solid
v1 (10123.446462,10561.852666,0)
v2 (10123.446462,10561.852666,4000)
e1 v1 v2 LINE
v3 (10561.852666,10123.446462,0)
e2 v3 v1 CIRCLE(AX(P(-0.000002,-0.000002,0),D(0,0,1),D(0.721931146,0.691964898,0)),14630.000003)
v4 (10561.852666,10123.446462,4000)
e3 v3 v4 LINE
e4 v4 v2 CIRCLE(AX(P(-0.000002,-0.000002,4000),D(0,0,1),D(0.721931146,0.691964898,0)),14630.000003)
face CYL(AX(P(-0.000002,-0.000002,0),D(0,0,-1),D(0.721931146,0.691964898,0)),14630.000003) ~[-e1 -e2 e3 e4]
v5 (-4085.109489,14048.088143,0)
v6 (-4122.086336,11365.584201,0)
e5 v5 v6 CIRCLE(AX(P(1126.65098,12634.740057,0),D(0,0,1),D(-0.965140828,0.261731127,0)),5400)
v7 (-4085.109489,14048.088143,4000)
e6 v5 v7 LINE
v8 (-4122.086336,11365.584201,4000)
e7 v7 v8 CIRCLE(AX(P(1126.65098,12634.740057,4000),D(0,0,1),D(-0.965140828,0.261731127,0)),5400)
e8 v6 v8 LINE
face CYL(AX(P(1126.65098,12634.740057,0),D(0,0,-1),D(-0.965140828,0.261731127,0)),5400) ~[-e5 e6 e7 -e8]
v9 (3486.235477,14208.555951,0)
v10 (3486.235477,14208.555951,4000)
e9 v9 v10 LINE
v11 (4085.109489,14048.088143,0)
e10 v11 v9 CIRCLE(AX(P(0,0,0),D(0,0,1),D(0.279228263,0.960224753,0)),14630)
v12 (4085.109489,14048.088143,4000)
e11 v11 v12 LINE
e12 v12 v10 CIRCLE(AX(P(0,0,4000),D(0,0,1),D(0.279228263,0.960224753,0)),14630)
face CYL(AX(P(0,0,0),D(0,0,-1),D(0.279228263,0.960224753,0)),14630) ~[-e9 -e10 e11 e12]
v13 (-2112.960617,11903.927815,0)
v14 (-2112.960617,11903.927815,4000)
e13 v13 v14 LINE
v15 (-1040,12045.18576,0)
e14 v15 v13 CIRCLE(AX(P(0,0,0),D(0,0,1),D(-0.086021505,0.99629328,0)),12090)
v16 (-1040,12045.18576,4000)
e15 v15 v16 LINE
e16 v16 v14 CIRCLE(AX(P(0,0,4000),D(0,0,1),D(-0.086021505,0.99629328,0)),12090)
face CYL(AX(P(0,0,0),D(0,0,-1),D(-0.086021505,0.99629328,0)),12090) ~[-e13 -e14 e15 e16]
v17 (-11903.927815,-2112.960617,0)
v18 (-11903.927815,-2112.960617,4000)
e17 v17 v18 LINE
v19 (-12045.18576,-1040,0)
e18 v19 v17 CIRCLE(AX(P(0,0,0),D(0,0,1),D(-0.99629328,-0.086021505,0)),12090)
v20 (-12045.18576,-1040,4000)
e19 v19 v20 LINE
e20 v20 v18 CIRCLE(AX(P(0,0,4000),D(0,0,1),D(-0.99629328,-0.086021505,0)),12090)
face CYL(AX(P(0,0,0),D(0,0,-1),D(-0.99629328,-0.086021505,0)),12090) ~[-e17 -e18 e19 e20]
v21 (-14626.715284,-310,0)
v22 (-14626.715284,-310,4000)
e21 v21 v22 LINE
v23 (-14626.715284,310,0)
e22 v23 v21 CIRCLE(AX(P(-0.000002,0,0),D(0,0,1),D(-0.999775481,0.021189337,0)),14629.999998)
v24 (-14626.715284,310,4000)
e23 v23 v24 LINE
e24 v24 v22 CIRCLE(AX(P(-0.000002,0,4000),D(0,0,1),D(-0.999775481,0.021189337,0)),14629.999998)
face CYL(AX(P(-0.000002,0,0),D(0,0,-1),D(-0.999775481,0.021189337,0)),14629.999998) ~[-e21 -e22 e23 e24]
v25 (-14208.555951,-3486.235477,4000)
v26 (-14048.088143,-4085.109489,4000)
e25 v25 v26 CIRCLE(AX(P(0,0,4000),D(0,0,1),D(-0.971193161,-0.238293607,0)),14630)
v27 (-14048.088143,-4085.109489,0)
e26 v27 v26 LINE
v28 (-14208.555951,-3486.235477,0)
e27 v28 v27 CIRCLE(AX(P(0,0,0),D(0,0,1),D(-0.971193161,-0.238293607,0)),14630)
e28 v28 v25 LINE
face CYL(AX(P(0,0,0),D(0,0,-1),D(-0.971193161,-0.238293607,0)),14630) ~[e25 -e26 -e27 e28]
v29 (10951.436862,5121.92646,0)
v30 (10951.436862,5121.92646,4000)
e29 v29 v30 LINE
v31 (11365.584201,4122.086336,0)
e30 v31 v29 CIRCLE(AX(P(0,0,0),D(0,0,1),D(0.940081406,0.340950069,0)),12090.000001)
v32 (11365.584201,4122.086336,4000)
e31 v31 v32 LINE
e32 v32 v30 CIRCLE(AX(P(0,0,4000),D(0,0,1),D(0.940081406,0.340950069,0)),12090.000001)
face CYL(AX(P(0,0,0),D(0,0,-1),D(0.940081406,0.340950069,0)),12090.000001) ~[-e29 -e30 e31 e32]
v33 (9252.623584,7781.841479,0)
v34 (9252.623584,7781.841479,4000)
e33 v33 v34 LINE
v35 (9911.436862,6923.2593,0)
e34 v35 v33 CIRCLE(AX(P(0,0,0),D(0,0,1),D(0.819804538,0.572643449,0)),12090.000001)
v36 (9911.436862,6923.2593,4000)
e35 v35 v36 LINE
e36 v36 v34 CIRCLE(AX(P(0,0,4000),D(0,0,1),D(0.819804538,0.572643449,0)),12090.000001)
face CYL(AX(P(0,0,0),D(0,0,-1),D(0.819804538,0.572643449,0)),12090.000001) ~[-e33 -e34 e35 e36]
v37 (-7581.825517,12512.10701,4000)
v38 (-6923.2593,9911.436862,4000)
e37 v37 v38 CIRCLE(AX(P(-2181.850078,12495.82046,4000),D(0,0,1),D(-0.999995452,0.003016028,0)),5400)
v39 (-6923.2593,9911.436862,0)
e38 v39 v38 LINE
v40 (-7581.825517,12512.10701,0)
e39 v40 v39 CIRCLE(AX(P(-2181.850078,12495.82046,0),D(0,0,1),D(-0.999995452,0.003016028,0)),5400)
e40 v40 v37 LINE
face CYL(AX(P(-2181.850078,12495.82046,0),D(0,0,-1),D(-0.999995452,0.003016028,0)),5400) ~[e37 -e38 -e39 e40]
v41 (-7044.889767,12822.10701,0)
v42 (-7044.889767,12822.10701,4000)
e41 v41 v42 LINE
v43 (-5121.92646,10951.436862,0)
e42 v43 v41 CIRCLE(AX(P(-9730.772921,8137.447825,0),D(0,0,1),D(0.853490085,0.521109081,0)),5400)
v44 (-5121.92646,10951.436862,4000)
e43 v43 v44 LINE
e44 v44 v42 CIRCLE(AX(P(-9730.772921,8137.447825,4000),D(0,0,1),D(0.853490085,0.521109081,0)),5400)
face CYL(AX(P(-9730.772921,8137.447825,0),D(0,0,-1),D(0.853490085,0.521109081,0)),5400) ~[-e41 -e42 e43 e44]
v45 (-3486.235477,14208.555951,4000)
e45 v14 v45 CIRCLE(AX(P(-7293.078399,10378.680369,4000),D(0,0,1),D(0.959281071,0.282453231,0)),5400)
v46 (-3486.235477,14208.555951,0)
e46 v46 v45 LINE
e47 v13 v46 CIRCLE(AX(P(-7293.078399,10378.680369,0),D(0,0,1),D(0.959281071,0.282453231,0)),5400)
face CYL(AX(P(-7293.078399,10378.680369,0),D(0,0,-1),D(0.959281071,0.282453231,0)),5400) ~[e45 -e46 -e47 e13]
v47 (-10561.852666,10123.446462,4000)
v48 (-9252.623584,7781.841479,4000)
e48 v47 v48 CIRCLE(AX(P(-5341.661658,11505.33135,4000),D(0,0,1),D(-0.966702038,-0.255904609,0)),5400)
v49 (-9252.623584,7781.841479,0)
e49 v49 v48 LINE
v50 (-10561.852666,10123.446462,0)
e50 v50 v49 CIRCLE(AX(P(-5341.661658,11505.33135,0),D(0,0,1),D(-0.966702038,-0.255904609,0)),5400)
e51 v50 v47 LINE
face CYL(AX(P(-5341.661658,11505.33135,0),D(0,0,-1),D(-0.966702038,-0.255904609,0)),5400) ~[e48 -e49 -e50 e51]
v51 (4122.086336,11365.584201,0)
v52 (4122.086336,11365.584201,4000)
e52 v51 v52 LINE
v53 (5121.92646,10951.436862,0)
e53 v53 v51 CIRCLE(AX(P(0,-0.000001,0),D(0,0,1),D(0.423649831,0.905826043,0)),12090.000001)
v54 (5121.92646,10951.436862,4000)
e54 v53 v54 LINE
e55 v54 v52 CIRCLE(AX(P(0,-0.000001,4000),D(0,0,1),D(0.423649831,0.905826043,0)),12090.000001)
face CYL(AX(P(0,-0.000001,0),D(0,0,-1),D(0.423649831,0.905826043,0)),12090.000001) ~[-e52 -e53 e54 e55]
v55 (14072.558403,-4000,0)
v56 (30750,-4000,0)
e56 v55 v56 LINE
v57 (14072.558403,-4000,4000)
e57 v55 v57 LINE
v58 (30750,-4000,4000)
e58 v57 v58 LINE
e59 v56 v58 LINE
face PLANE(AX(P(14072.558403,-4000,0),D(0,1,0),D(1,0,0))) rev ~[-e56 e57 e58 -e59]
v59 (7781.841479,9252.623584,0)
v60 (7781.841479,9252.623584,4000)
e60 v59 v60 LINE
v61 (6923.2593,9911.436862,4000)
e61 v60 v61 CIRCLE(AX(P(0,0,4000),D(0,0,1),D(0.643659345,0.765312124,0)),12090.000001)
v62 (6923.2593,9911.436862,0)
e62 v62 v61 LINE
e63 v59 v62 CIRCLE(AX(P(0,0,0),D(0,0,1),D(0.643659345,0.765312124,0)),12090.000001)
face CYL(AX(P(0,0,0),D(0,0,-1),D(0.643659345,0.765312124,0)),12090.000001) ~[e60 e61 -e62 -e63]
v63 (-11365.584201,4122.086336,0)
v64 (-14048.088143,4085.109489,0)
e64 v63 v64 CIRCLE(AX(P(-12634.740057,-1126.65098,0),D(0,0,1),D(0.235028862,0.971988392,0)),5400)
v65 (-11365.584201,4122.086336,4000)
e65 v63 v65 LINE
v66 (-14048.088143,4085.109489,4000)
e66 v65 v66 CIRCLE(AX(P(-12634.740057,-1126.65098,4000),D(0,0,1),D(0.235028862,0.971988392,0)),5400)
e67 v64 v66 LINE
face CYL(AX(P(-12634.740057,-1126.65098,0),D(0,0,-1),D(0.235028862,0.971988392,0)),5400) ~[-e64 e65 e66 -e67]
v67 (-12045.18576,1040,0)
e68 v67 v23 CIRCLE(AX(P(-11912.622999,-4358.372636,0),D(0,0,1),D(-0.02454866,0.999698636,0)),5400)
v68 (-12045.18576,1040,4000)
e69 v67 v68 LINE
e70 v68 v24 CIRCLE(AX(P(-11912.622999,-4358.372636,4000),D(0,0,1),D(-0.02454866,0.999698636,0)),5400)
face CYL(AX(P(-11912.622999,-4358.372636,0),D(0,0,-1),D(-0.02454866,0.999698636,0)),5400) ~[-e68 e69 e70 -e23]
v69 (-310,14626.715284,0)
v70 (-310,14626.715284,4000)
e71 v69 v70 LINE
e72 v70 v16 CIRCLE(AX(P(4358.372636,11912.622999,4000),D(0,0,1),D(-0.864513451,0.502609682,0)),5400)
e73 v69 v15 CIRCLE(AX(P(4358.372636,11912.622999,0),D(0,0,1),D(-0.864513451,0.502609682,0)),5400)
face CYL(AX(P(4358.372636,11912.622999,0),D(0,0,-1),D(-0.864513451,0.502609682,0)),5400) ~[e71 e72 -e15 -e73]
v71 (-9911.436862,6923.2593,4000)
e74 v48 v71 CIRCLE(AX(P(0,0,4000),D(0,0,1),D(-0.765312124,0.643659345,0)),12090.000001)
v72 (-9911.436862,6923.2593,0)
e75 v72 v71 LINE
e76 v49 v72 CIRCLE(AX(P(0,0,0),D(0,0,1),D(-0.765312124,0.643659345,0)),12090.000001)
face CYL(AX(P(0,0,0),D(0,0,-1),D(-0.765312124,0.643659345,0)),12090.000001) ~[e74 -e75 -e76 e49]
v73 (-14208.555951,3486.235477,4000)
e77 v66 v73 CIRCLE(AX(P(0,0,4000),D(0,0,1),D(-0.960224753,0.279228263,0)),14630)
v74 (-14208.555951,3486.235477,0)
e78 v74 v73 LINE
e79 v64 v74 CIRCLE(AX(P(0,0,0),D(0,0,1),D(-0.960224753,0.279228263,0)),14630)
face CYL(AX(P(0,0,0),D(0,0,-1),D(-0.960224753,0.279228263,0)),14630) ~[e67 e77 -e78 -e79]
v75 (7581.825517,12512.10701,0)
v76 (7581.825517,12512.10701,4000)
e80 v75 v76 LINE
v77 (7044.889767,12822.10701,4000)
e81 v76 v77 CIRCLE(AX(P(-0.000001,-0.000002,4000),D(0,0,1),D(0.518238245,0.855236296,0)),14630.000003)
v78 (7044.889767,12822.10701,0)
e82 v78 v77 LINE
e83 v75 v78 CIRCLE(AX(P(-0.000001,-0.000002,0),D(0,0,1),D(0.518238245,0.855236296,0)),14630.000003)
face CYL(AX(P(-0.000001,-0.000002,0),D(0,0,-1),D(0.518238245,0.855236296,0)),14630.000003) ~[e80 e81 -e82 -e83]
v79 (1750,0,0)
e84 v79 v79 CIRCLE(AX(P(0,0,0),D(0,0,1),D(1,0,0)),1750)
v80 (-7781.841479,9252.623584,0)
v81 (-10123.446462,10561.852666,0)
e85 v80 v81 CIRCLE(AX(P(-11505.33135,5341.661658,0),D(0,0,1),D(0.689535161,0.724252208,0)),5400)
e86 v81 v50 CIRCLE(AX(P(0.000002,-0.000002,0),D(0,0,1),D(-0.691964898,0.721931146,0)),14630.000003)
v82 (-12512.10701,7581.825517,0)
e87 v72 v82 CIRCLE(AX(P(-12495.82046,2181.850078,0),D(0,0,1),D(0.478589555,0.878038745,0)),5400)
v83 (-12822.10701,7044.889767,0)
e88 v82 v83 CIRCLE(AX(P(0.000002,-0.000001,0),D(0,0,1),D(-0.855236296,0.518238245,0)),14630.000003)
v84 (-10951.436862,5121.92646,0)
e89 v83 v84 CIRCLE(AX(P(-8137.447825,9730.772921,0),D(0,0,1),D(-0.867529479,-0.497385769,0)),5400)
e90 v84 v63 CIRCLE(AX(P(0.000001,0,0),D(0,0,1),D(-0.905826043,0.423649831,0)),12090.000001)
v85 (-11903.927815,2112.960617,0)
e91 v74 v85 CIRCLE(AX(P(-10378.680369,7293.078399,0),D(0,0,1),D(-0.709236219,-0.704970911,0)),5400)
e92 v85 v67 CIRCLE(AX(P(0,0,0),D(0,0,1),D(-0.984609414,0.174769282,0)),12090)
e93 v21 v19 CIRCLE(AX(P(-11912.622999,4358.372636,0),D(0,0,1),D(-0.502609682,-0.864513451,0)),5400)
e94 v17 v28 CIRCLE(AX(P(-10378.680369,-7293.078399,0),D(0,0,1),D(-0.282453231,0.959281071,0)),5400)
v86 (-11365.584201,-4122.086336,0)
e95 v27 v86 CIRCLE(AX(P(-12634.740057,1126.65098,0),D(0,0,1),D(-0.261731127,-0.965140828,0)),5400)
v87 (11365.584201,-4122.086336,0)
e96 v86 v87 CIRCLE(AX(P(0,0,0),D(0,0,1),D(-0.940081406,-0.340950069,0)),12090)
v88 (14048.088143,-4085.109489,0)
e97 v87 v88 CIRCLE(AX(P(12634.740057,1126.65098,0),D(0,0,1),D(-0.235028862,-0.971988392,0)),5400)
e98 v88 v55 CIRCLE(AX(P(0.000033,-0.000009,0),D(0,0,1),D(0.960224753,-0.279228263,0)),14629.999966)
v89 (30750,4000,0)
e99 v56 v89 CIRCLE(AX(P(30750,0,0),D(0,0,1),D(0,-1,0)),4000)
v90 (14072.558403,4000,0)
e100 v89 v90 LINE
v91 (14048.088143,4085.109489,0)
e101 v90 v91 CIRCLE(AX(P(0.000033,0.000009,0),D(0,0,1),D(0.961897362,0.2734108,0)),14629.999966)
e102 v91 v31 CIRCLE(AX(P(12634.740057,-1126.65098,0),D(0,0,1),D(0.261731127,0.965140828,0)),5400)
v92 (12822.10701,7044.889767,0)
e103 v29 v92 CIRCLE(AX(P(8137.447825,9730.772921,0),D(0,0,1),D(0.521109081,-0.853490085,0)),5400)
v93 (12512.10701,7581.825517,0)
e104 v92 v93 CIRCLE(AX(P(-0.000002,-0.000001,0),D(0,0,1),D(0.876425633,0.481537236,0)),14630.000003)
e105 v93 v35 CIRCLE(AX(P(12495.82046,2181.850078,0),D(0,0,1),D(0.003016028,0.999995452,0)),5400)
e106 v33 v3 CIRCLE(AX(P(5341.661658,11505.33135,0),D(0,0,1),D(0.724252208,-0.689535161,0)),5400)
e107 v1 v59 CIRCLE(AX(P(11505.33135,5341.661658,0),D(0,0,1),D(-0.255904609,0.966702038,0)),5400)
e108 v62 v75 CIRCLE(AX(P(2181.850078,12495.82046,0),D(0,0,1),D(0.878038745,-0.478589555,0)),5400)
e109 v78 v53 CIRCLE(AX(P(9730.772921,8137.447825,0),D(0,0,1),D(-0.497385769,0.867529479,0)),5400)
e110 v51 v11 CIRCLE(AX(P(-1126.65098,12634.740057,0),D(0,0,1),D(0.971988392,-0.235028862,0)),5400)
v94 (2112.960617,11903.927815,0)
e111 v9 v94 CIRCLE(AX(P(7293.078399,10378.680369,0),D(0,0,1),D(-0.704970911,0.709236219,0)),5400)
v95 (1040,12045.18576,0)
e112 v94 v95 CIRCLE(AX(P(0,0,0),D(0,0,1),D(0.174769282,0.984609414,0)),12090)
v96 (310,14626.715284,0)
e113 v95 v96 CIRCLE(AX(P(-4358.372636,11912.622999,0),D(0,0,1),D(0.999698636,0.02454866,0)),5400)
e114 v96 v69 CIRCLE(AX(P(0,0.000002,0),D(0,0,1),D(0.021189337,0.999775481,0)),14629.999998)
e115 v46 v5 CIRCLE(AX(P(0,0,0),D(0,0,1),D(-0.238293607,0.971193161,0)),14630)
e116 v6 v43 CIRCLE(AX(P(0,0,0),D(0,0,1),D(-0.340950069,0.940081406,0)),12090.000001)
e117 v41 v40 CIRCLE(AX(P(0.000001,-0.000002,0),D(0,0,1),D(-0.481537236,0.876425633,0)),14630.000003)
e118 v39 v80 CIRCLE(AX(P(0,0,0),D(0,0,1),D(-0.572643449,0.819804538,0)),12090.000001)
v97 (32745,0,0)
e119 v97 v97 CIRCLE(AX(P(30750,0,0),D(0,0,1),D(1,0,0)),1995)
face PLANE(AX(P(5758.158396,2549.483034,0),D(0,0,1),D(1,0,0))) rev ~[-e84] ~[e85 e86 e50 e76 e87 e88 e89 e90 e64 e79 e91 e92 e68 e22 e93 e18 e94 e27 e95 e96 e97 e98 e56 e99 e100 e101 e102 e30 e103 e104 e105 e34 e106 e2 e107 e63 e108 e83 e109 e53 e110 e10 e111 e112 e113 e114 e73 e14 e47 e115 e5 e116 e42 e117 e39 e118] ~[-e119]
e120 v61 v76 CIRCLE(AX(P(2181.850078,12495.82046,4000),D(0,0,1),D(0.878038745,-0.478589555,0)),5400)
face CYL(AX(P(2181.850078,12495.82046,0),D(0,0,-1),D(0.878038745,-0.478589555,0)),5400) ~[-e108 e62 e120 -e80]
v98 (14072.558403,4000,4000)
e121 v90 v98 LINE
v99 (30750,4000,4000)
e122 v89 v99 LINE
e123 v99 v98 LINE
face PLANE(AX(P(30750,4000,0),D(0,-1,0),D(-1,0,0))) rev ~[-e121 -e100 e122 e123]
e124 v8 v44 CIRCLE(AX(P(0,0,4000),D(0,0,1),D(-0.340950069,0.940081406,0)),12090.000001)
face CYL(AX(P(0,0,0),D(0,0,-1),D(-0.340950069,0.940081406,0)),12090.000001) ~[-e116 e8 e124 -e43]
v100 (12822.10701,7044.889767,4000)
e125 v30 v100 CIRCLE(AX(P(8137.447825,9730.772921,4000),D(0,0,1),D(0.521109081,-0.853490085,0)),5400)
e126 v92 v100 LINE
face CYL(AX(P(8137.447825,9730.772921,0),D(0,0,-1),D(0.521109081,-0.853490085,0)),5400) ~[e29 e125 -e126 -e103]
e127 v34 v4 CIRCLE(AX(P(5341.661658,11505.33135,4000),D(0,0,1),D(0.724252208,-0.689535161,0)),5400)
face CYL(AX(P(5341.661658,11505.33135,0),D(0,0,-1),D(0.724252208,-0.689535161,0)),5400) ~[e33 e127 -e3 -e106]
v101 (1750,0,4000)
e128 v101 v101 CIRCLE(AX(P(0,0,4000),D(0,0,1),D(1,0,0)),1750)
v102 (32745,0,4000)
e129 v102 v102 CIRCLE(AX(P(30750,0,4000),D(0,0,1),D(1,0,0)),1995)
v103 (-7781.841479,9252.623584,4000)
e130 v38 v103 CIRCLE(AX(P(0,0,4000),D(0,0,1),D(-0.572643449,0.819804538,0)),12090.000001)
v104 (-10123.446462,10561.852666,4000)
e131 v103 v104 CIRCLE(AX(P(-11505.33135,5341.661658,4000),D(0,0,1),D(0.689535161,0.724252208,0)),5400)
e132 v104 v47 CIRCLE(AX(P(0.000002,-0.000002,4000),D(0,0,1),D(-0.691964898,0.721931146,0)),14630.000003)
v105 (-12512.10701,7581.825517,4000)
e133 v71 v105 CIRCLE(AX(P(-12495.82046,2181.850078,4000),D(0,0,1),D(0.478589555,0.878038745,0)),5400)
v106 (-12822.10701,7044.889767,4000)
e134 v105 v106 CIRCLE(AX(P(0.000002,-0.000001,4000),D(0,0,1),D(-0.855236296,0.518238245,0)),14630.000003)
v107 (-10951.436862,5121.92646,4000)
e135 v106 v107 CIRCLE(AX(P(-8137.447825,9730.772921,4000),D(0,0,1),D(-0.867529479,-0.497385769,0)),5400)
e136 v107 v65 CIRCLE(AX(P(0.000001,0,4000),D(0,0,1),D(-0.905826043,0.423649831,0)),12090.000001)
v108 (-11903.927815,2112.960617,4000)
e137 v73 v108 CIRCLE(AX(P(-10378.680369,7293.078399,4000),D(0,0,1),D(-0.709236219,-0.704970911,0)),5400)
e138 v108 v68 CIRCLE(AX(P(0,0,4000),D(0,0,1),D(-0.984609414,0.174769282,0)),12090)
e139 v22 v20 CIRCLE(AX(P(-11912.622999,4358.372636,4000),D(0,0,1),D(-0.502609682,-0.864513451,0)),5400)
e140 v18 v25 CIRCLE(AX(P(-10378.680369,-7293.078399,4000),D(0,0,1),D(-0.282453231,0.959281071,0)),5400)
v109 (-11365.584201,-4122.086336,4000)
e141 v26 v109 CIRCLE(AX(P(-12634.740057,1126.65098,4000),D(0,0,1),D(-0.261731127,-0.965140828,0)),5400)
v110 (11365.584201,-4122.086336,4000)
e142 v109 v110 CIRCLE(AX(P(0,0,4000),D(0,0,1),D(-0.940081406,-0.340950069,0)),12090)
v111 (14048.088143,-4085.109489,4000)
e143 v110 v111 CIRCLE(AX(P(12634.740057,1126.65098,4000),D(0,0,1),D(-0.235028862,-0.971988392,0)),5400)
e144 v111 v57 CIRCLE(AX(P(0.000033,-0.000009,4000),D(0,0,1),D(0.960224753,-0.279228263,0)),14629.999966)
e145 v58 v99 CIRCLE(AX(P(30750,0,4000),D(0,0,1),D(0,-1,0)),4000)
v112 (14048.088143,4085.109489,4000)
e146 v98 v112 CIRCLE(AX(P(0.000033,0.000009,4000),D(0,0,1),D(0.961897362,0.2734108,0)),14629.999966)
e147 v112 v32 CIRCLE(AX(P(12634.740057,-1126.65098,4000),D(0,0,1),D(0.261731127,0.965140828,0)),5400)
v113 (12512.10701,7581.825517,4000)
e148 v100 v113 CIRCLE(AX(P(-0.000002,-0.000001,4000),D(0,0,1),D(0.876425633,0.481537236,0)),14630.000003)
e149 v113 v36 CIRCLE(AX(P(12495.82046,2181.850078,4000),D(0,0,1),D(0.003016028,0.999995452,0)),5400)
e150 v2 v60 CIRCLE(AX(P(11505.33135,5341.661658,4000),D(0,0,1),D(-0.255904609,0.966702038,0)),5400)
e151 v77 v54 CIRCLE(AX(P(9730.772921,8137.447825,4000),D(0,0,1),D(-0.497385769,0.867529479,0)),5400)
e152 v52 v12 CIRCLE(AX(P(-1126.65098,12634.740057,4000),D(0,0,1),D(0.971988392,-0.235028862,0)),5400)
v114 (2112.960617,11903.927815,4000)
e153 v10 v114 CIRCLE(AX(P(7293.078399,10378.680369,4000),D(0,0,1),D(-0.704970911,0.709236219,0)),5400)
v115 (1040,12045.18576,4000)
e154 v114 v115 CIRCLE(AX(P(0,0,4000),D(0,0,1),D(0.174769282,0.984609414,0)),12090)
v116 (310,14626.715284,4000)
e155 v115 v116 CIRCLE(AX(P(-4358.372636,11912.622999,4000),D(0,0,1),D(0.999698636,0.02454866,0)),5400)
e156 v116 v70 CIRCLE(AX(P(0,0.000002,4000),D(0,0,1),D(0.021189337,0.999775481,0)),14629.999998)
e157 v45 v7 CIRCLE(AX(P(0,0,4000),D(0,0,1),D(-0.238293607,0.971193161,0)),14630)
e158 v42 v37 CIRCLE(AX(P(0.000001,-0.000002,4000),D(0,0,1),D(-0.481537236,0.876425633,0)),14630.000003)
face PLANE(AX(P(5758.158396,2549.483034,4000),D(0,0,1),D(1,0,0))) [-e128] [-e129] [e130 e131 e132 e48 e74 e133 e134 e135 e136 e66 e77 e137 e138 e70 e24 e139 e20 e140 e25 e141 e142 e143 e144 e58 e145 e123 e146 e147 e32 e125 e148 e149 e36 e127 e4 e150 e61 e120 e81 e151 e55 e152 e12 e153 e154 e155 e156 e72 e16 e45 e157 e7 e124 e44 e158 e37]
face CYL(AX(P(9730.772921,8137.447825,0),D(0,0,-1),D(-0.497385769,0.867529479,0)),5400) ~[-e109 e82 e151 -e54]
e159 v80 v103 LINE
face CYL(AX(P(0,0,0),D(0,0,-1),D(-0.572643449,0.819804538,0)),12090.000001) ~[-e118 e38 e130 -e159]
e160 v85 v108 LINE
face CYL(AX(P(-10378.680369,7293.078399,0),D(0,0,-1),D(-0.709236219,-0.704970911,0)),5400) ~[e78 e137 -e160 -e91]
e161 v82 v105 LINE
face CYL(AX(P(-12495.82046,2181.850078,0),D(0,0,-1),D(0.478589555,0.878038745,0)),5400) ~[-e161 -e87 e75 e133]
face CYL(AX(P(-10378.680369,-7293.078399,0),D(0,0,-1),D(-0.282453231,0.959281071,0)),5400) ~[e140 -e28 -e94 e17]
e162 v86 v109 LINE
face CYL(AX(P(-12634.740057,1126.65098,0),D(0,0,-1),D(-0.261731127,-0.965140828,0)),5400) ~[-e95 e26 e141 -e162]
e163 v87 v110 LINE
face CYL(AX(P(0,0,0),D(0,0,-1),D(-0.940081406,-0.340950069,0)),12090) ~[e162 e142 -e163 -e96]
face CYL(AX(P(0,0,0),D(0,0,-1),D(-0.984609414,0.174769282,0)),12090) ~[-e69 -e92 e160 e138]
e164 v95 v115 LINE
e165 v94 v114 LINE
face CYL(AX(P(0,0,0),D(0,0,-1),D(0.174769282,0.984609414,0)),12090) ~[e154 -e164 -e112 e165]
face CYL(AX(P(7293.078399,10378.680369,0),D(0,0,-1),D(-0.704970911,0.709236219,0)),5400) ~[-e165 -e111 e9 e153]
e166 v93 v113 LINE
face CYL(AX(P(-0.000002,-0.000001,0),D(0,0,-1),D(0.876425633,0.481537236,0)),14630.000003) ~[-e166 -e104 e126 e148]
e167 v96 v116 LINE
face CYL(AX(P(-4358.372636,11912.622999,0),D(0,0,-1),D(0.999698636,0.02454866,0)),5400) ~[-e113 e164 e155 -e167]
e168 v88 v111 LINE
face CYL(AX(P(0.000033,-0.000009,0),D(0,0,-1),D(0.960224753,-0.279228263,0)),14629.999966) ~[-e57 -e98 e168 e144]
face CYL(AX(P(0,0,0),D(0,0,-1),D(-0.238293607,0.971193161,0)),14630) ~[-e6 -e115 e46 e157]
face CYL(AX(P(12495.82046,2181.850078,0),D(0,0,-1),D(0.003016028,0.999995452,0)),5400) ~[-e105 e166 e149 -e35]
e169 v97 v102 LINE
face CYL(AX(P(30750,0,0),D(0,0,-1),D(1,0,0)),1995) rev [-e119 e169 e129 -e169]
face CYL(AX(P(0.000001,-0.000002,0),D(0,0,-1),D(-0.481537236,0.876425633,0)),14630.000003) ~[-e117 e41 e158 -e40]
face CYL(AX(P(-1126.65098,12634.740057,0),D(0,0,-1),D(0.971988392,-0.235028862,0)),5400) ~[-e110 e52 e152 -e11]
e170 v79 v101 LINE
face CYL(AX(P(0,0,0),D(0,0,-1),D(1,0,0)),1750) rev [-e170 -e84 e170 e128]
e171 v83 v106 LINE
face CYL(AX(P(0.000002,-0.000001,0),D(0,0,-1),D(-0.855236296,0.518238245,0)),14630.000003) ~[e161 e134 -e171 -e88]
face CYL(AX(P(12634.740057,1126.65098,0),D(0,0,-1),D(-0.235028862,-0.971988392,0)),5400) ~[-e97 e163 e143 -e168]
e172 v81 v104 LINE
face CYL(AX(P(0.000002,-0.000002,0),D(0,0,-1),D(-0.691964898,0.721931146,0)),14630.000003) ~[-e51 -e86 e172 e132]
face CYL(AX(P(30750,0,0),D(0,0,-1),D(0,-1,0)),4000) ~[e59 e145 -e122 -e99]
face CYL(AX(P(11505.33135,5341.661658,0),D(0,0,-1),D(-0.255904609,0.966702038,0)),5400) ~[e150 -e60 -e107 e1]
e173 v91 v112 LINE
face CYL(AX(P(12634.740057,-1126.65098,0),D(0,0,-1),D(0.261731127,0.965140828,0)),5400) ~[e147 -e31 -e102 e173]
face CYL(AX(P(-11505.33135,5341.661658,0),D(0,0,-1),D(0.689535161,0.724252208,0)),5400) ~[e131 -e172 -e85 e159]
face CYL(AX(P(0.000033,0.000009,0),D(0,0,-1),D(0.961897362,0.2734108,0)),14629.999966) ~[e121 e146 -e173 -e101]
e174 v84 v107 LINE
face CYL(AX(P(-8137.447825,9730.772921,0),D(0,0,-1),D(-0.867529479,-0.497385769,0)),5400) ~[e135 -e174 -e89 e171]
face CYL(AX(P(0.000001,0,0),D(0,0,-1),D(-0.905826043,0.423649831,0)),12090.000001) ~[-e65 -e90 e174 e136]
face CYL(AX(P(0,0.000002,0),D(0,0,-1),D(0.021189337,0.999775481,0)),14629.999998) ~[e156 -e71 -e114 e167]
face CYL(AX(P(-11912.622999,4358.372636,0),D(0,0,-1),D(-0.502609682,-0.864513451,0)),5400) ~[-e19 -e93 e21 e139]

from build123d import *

# Parameters (mm, degrees)
SKETCH2_R           = 1750
SKETCH2_R_2         = 1995
BOSS_EXTRUDE1_DEPTH = 4000


with BuildPart() as part:
    # Sketch2 → Boss-Extrude1 (new body)
    with BuildSketch(Plane.XY):
        with BuildLine():
            Line((14072.558402792, -4000), (30750, -4000))
            ThreePointArc((30750, -4000), (34750, 0), (30750, 4000))
            Line((30750, 4000), (14072.558402792, 4000))
            ThreePointArc((14072.558402792, 4000), (14060.387670314, 4042.573259754), (14048.088142637, 4085.109488948))
            ThreePointArc((14048.088142637, 4085.109488948), (12709.169027193, 4272.836062793), (11365.584201411, 4122.086335903))
            ThreePointArc((11365.584201411, 4122.086335903), (11169.703548061, 4626.642697294), (10951.436861718, 5121.926460211))
            ThreePointArc((10951.436861718, 5121.926460211), (12008.090957274, 5965.388247475), (12822.10700989, 7044.889766841))
            ThreePointArc((12822.10700989, 7044.889766841), (12669.951657366, 7315), (12512.10700989, 7581.825517187))
            ThreePointArc((12512.10700989, 7581.825517187), (11170.223244387, 7416.617696216), (9911.436861718, 6923.259300083))
            ThreePointArc((9911.436861718, 6923.259300083), (9591.641884121, 7359.925676715), (9252.62358419, 7781.841479322))
            ThreePointArc((9252.62358419, 7781.841479322), (10054.969090182, 8870.045207143), (10561.852665989, 10123.446461653))
            ThreePointArc((10561.852665989, 10123.446461653), (10344.972208759, 10344.972208759), (10123.446461653, 10561.852665989))
            ThreePointArc((10123.446461653, 10561.852665989), (8870.045207143, 10054.969090182), (7781.841479322, 9252.62358419))
            ThreePointArc((7781.841479322, 9252.62358419), (7359.925676715, 9591.641884121), (6923.259300083, 9911.436861718))
            ThreePointArc((6923.259300083, 9911.436861718), (7416.617696216, 11170.223244387), (7581.825517187, 12512.10700989))
            ThreePointArc((7581.825517187, 12512.10700989), (7315, 12669.951657366), (7044.889766841, 12822.10700989))
            ThreePointArc((7044.889766841, 12822.10700989), (5965.388247475, 12008.090957274), (5121.926460211, 10951.436861718))
            ThreePointArc((5121.926460211, 10951.436861718), (4626.642697294, 11169.703548061), (4122.086335903, 11365.584201411))
            ThreePointArc((4122.086335903, 11365.584201411), (4272.836062793, 12709.169027193), (4085.109488948, 14048.088142637))
            ThreePointArc((4085.109488948, 14048.088142637), (3786.52262985, 14131.494838609), (3486.235476649, 14208.555950601))
            ThreePointArc((3486.235476649, 14208.555950601), (2654.199937011, 13142.881269936), (2112.960617221, 11903.927815224))
            ThreePointArc((2112.960617221, 11903.927815224), (1578.06166394, 11986.568374009), (1040, 12045.185760294))
            ThreePointArc((1040, 12045.185760294), (837.867712887, 13382.005943691), (310, 14626.715284027))
            ThreePointArc((310, 14626.715284027), (0, 14630), (-310, 14626.715284027))
            ThreePointArc((-310, 14626.715284027), (-837.867712887, 13382.005943691), (-1040, 12045.185760294))
            ThreePointArc((-1040, 12045.185760294), (-1578.06166394, 11986.568374009), (-2112.960617221, 11903.927815224))
            ThreePointArc((-2112.960617221, 11903.927815224), (-2654.199937011, 13142.881269936), (-3486.235476649, 14208.555950601))
            ThreePointArc((-3486.235476649, 14208.555950601), (-3786.52262985, 14131.494838609), (-4085.109488948, 14048.088142637))
            ThreePointArc((-4085.109488948, 14048.088142637), (-4272.836062793, 12709.169027193), (-4122.086335903, 11365.584201411))
            ThreePointArc((-4122.086335903, 11365.584201411), (-4626.642697294, 11169.703548061), (-5121.926460211, 10951.436861718))
            ThreePointArc((-5121.926460211, 10951.436861718), (-5965.388247475, 12008.090957274), (-7044.889766841, 12822.10700989))
            ThreePointArc((-7044.889766841, 12822.10700989), (-7315, 12669.951657366), (-7581.825517187, 12512.10700989))
            ThreePointArc((-7581.825517187, 12512.10700989), (-7416.617696216, 11170.223244387), (-6923.259300083, 9911.436861718))
            ThreePointArc((-6923.259300083, 9911.436861718), (-7359.925676715, 9591.641884121), (-7781.841479322, 9252.62358419))
            ThreePointArc((-7781.841479322, 9252.62358419), (-8870.045207143, 10054.969090182), (-10123.446461653, 10561.852665989))
            ThreePointArc((-10123.446461653, 10561.852665989), (-10344.972208759, 10344.972208759), (-10561.852665989, 10123.446461653))
            ThreePointArc((-10561.852665989, 10123.446461653), (-10054.969090182, 8870.045207143), (-9252.62358419, 7781.841479322))
            ThreePointArc((-9252.62358419, 7781.841479322), (-9591.641884121, 7359.925676715), (-9911.436861718, 6923.259300083))
            ThreePointArc((-9911.436861718, 6923.259300083), (-11170.223244387, 7416.617696216), (-12512.10700989, 7581.825517187))
            ThreePointArc((-12512.10700989, 7581.825517187), (-12669.951657366, 7315), (-12822.10700989, 7044.889766841))
            ThreePointArc((-12822.10700989, 7044.889766841), (-12008.090957274, 5965.388247475), (-10951.436861718, 5121.926460211))
            ThreePointArc((-10951.436861718, 5121.926460211), (-11169.703548061, 4626.642697294), (-11365.584201411, 4122.086335903))
            ThreePointArc((-11365.584201411, 4122.086335903), (-12709.169027193, 4272.836062793), (-14048.088142637, 4085.109488948))
            ThreePointArc((-14048.088142637, 4085.109488948), (-14131.494838609, 3786.52262985), (-14208.555950601, 3486.235476649))
            ThreePointArc((-14208.555950601, 3486.235476649), (-13142.881269936, 2654.199937011), (-11903.927815224, 2112.960617221))
            ThreePointArc((-11903.927815224, 2112.960617221), (-11986.568374009, 1578.06166394), (-12045.185760294, 1040))
            ThreePointArc((-12045.185760294, 1040), (-13382.005943691, 837.867712887), (-14626.715284027, 310))
            ThreePointArc((-14626.715284027, 310), (-14630, 0), (-14626.715284027, -310))
            ThreePointArc((-14626.715284027, -310), (-13382.005943691, -837.867712887), (-12045.185760294, -1040))
            ThreePointArc((-12045.185760294, -1040), (-11986.568374009, -1578.06166394), (-11903.927815224, -2112.960617221))
            ThreePointArc((-11903.927815224, -2112.960617221), (-13142.881269936, -2654.199937011), (-14208.555950601, -3486.235476649))
            ThreePointArc((-14208.555950601, -3486.235476649), (-14131.494838609, -3786.52262985), (-14048.088142637, -4085.109488948))
            ThreePointArc((-14048.088142637, -4085.109488948), (-12709.169027193, -4272.836062793), (-11365.584201411, -4122.086335903))
            ThreePointArc((-11365.584201411, -4122.086335903), (0, -12090), (11365.584201411, -4122.086335903))
            ThreePointArc((11365.584201411, -4122.086335903), (12709.169027193, -4272.836062793), (14048.088142637, -4085.109488948))
            ThreePointArc((14048.088142637, -4085.109488948), (14060.387670314, -4042.573259754), (14072.558402792, -4000))
        make_face()
        Circle(SKETCH2_R, mode=Mode.SUBTRACT)
        with Locations((30750, 0)):
            Circle(SKETCH2_R_2, mode=Mode.SUBTRACT)
    extrude(amount=BOSS_EXTRUDE1_DEPTH)


solid = part.part
